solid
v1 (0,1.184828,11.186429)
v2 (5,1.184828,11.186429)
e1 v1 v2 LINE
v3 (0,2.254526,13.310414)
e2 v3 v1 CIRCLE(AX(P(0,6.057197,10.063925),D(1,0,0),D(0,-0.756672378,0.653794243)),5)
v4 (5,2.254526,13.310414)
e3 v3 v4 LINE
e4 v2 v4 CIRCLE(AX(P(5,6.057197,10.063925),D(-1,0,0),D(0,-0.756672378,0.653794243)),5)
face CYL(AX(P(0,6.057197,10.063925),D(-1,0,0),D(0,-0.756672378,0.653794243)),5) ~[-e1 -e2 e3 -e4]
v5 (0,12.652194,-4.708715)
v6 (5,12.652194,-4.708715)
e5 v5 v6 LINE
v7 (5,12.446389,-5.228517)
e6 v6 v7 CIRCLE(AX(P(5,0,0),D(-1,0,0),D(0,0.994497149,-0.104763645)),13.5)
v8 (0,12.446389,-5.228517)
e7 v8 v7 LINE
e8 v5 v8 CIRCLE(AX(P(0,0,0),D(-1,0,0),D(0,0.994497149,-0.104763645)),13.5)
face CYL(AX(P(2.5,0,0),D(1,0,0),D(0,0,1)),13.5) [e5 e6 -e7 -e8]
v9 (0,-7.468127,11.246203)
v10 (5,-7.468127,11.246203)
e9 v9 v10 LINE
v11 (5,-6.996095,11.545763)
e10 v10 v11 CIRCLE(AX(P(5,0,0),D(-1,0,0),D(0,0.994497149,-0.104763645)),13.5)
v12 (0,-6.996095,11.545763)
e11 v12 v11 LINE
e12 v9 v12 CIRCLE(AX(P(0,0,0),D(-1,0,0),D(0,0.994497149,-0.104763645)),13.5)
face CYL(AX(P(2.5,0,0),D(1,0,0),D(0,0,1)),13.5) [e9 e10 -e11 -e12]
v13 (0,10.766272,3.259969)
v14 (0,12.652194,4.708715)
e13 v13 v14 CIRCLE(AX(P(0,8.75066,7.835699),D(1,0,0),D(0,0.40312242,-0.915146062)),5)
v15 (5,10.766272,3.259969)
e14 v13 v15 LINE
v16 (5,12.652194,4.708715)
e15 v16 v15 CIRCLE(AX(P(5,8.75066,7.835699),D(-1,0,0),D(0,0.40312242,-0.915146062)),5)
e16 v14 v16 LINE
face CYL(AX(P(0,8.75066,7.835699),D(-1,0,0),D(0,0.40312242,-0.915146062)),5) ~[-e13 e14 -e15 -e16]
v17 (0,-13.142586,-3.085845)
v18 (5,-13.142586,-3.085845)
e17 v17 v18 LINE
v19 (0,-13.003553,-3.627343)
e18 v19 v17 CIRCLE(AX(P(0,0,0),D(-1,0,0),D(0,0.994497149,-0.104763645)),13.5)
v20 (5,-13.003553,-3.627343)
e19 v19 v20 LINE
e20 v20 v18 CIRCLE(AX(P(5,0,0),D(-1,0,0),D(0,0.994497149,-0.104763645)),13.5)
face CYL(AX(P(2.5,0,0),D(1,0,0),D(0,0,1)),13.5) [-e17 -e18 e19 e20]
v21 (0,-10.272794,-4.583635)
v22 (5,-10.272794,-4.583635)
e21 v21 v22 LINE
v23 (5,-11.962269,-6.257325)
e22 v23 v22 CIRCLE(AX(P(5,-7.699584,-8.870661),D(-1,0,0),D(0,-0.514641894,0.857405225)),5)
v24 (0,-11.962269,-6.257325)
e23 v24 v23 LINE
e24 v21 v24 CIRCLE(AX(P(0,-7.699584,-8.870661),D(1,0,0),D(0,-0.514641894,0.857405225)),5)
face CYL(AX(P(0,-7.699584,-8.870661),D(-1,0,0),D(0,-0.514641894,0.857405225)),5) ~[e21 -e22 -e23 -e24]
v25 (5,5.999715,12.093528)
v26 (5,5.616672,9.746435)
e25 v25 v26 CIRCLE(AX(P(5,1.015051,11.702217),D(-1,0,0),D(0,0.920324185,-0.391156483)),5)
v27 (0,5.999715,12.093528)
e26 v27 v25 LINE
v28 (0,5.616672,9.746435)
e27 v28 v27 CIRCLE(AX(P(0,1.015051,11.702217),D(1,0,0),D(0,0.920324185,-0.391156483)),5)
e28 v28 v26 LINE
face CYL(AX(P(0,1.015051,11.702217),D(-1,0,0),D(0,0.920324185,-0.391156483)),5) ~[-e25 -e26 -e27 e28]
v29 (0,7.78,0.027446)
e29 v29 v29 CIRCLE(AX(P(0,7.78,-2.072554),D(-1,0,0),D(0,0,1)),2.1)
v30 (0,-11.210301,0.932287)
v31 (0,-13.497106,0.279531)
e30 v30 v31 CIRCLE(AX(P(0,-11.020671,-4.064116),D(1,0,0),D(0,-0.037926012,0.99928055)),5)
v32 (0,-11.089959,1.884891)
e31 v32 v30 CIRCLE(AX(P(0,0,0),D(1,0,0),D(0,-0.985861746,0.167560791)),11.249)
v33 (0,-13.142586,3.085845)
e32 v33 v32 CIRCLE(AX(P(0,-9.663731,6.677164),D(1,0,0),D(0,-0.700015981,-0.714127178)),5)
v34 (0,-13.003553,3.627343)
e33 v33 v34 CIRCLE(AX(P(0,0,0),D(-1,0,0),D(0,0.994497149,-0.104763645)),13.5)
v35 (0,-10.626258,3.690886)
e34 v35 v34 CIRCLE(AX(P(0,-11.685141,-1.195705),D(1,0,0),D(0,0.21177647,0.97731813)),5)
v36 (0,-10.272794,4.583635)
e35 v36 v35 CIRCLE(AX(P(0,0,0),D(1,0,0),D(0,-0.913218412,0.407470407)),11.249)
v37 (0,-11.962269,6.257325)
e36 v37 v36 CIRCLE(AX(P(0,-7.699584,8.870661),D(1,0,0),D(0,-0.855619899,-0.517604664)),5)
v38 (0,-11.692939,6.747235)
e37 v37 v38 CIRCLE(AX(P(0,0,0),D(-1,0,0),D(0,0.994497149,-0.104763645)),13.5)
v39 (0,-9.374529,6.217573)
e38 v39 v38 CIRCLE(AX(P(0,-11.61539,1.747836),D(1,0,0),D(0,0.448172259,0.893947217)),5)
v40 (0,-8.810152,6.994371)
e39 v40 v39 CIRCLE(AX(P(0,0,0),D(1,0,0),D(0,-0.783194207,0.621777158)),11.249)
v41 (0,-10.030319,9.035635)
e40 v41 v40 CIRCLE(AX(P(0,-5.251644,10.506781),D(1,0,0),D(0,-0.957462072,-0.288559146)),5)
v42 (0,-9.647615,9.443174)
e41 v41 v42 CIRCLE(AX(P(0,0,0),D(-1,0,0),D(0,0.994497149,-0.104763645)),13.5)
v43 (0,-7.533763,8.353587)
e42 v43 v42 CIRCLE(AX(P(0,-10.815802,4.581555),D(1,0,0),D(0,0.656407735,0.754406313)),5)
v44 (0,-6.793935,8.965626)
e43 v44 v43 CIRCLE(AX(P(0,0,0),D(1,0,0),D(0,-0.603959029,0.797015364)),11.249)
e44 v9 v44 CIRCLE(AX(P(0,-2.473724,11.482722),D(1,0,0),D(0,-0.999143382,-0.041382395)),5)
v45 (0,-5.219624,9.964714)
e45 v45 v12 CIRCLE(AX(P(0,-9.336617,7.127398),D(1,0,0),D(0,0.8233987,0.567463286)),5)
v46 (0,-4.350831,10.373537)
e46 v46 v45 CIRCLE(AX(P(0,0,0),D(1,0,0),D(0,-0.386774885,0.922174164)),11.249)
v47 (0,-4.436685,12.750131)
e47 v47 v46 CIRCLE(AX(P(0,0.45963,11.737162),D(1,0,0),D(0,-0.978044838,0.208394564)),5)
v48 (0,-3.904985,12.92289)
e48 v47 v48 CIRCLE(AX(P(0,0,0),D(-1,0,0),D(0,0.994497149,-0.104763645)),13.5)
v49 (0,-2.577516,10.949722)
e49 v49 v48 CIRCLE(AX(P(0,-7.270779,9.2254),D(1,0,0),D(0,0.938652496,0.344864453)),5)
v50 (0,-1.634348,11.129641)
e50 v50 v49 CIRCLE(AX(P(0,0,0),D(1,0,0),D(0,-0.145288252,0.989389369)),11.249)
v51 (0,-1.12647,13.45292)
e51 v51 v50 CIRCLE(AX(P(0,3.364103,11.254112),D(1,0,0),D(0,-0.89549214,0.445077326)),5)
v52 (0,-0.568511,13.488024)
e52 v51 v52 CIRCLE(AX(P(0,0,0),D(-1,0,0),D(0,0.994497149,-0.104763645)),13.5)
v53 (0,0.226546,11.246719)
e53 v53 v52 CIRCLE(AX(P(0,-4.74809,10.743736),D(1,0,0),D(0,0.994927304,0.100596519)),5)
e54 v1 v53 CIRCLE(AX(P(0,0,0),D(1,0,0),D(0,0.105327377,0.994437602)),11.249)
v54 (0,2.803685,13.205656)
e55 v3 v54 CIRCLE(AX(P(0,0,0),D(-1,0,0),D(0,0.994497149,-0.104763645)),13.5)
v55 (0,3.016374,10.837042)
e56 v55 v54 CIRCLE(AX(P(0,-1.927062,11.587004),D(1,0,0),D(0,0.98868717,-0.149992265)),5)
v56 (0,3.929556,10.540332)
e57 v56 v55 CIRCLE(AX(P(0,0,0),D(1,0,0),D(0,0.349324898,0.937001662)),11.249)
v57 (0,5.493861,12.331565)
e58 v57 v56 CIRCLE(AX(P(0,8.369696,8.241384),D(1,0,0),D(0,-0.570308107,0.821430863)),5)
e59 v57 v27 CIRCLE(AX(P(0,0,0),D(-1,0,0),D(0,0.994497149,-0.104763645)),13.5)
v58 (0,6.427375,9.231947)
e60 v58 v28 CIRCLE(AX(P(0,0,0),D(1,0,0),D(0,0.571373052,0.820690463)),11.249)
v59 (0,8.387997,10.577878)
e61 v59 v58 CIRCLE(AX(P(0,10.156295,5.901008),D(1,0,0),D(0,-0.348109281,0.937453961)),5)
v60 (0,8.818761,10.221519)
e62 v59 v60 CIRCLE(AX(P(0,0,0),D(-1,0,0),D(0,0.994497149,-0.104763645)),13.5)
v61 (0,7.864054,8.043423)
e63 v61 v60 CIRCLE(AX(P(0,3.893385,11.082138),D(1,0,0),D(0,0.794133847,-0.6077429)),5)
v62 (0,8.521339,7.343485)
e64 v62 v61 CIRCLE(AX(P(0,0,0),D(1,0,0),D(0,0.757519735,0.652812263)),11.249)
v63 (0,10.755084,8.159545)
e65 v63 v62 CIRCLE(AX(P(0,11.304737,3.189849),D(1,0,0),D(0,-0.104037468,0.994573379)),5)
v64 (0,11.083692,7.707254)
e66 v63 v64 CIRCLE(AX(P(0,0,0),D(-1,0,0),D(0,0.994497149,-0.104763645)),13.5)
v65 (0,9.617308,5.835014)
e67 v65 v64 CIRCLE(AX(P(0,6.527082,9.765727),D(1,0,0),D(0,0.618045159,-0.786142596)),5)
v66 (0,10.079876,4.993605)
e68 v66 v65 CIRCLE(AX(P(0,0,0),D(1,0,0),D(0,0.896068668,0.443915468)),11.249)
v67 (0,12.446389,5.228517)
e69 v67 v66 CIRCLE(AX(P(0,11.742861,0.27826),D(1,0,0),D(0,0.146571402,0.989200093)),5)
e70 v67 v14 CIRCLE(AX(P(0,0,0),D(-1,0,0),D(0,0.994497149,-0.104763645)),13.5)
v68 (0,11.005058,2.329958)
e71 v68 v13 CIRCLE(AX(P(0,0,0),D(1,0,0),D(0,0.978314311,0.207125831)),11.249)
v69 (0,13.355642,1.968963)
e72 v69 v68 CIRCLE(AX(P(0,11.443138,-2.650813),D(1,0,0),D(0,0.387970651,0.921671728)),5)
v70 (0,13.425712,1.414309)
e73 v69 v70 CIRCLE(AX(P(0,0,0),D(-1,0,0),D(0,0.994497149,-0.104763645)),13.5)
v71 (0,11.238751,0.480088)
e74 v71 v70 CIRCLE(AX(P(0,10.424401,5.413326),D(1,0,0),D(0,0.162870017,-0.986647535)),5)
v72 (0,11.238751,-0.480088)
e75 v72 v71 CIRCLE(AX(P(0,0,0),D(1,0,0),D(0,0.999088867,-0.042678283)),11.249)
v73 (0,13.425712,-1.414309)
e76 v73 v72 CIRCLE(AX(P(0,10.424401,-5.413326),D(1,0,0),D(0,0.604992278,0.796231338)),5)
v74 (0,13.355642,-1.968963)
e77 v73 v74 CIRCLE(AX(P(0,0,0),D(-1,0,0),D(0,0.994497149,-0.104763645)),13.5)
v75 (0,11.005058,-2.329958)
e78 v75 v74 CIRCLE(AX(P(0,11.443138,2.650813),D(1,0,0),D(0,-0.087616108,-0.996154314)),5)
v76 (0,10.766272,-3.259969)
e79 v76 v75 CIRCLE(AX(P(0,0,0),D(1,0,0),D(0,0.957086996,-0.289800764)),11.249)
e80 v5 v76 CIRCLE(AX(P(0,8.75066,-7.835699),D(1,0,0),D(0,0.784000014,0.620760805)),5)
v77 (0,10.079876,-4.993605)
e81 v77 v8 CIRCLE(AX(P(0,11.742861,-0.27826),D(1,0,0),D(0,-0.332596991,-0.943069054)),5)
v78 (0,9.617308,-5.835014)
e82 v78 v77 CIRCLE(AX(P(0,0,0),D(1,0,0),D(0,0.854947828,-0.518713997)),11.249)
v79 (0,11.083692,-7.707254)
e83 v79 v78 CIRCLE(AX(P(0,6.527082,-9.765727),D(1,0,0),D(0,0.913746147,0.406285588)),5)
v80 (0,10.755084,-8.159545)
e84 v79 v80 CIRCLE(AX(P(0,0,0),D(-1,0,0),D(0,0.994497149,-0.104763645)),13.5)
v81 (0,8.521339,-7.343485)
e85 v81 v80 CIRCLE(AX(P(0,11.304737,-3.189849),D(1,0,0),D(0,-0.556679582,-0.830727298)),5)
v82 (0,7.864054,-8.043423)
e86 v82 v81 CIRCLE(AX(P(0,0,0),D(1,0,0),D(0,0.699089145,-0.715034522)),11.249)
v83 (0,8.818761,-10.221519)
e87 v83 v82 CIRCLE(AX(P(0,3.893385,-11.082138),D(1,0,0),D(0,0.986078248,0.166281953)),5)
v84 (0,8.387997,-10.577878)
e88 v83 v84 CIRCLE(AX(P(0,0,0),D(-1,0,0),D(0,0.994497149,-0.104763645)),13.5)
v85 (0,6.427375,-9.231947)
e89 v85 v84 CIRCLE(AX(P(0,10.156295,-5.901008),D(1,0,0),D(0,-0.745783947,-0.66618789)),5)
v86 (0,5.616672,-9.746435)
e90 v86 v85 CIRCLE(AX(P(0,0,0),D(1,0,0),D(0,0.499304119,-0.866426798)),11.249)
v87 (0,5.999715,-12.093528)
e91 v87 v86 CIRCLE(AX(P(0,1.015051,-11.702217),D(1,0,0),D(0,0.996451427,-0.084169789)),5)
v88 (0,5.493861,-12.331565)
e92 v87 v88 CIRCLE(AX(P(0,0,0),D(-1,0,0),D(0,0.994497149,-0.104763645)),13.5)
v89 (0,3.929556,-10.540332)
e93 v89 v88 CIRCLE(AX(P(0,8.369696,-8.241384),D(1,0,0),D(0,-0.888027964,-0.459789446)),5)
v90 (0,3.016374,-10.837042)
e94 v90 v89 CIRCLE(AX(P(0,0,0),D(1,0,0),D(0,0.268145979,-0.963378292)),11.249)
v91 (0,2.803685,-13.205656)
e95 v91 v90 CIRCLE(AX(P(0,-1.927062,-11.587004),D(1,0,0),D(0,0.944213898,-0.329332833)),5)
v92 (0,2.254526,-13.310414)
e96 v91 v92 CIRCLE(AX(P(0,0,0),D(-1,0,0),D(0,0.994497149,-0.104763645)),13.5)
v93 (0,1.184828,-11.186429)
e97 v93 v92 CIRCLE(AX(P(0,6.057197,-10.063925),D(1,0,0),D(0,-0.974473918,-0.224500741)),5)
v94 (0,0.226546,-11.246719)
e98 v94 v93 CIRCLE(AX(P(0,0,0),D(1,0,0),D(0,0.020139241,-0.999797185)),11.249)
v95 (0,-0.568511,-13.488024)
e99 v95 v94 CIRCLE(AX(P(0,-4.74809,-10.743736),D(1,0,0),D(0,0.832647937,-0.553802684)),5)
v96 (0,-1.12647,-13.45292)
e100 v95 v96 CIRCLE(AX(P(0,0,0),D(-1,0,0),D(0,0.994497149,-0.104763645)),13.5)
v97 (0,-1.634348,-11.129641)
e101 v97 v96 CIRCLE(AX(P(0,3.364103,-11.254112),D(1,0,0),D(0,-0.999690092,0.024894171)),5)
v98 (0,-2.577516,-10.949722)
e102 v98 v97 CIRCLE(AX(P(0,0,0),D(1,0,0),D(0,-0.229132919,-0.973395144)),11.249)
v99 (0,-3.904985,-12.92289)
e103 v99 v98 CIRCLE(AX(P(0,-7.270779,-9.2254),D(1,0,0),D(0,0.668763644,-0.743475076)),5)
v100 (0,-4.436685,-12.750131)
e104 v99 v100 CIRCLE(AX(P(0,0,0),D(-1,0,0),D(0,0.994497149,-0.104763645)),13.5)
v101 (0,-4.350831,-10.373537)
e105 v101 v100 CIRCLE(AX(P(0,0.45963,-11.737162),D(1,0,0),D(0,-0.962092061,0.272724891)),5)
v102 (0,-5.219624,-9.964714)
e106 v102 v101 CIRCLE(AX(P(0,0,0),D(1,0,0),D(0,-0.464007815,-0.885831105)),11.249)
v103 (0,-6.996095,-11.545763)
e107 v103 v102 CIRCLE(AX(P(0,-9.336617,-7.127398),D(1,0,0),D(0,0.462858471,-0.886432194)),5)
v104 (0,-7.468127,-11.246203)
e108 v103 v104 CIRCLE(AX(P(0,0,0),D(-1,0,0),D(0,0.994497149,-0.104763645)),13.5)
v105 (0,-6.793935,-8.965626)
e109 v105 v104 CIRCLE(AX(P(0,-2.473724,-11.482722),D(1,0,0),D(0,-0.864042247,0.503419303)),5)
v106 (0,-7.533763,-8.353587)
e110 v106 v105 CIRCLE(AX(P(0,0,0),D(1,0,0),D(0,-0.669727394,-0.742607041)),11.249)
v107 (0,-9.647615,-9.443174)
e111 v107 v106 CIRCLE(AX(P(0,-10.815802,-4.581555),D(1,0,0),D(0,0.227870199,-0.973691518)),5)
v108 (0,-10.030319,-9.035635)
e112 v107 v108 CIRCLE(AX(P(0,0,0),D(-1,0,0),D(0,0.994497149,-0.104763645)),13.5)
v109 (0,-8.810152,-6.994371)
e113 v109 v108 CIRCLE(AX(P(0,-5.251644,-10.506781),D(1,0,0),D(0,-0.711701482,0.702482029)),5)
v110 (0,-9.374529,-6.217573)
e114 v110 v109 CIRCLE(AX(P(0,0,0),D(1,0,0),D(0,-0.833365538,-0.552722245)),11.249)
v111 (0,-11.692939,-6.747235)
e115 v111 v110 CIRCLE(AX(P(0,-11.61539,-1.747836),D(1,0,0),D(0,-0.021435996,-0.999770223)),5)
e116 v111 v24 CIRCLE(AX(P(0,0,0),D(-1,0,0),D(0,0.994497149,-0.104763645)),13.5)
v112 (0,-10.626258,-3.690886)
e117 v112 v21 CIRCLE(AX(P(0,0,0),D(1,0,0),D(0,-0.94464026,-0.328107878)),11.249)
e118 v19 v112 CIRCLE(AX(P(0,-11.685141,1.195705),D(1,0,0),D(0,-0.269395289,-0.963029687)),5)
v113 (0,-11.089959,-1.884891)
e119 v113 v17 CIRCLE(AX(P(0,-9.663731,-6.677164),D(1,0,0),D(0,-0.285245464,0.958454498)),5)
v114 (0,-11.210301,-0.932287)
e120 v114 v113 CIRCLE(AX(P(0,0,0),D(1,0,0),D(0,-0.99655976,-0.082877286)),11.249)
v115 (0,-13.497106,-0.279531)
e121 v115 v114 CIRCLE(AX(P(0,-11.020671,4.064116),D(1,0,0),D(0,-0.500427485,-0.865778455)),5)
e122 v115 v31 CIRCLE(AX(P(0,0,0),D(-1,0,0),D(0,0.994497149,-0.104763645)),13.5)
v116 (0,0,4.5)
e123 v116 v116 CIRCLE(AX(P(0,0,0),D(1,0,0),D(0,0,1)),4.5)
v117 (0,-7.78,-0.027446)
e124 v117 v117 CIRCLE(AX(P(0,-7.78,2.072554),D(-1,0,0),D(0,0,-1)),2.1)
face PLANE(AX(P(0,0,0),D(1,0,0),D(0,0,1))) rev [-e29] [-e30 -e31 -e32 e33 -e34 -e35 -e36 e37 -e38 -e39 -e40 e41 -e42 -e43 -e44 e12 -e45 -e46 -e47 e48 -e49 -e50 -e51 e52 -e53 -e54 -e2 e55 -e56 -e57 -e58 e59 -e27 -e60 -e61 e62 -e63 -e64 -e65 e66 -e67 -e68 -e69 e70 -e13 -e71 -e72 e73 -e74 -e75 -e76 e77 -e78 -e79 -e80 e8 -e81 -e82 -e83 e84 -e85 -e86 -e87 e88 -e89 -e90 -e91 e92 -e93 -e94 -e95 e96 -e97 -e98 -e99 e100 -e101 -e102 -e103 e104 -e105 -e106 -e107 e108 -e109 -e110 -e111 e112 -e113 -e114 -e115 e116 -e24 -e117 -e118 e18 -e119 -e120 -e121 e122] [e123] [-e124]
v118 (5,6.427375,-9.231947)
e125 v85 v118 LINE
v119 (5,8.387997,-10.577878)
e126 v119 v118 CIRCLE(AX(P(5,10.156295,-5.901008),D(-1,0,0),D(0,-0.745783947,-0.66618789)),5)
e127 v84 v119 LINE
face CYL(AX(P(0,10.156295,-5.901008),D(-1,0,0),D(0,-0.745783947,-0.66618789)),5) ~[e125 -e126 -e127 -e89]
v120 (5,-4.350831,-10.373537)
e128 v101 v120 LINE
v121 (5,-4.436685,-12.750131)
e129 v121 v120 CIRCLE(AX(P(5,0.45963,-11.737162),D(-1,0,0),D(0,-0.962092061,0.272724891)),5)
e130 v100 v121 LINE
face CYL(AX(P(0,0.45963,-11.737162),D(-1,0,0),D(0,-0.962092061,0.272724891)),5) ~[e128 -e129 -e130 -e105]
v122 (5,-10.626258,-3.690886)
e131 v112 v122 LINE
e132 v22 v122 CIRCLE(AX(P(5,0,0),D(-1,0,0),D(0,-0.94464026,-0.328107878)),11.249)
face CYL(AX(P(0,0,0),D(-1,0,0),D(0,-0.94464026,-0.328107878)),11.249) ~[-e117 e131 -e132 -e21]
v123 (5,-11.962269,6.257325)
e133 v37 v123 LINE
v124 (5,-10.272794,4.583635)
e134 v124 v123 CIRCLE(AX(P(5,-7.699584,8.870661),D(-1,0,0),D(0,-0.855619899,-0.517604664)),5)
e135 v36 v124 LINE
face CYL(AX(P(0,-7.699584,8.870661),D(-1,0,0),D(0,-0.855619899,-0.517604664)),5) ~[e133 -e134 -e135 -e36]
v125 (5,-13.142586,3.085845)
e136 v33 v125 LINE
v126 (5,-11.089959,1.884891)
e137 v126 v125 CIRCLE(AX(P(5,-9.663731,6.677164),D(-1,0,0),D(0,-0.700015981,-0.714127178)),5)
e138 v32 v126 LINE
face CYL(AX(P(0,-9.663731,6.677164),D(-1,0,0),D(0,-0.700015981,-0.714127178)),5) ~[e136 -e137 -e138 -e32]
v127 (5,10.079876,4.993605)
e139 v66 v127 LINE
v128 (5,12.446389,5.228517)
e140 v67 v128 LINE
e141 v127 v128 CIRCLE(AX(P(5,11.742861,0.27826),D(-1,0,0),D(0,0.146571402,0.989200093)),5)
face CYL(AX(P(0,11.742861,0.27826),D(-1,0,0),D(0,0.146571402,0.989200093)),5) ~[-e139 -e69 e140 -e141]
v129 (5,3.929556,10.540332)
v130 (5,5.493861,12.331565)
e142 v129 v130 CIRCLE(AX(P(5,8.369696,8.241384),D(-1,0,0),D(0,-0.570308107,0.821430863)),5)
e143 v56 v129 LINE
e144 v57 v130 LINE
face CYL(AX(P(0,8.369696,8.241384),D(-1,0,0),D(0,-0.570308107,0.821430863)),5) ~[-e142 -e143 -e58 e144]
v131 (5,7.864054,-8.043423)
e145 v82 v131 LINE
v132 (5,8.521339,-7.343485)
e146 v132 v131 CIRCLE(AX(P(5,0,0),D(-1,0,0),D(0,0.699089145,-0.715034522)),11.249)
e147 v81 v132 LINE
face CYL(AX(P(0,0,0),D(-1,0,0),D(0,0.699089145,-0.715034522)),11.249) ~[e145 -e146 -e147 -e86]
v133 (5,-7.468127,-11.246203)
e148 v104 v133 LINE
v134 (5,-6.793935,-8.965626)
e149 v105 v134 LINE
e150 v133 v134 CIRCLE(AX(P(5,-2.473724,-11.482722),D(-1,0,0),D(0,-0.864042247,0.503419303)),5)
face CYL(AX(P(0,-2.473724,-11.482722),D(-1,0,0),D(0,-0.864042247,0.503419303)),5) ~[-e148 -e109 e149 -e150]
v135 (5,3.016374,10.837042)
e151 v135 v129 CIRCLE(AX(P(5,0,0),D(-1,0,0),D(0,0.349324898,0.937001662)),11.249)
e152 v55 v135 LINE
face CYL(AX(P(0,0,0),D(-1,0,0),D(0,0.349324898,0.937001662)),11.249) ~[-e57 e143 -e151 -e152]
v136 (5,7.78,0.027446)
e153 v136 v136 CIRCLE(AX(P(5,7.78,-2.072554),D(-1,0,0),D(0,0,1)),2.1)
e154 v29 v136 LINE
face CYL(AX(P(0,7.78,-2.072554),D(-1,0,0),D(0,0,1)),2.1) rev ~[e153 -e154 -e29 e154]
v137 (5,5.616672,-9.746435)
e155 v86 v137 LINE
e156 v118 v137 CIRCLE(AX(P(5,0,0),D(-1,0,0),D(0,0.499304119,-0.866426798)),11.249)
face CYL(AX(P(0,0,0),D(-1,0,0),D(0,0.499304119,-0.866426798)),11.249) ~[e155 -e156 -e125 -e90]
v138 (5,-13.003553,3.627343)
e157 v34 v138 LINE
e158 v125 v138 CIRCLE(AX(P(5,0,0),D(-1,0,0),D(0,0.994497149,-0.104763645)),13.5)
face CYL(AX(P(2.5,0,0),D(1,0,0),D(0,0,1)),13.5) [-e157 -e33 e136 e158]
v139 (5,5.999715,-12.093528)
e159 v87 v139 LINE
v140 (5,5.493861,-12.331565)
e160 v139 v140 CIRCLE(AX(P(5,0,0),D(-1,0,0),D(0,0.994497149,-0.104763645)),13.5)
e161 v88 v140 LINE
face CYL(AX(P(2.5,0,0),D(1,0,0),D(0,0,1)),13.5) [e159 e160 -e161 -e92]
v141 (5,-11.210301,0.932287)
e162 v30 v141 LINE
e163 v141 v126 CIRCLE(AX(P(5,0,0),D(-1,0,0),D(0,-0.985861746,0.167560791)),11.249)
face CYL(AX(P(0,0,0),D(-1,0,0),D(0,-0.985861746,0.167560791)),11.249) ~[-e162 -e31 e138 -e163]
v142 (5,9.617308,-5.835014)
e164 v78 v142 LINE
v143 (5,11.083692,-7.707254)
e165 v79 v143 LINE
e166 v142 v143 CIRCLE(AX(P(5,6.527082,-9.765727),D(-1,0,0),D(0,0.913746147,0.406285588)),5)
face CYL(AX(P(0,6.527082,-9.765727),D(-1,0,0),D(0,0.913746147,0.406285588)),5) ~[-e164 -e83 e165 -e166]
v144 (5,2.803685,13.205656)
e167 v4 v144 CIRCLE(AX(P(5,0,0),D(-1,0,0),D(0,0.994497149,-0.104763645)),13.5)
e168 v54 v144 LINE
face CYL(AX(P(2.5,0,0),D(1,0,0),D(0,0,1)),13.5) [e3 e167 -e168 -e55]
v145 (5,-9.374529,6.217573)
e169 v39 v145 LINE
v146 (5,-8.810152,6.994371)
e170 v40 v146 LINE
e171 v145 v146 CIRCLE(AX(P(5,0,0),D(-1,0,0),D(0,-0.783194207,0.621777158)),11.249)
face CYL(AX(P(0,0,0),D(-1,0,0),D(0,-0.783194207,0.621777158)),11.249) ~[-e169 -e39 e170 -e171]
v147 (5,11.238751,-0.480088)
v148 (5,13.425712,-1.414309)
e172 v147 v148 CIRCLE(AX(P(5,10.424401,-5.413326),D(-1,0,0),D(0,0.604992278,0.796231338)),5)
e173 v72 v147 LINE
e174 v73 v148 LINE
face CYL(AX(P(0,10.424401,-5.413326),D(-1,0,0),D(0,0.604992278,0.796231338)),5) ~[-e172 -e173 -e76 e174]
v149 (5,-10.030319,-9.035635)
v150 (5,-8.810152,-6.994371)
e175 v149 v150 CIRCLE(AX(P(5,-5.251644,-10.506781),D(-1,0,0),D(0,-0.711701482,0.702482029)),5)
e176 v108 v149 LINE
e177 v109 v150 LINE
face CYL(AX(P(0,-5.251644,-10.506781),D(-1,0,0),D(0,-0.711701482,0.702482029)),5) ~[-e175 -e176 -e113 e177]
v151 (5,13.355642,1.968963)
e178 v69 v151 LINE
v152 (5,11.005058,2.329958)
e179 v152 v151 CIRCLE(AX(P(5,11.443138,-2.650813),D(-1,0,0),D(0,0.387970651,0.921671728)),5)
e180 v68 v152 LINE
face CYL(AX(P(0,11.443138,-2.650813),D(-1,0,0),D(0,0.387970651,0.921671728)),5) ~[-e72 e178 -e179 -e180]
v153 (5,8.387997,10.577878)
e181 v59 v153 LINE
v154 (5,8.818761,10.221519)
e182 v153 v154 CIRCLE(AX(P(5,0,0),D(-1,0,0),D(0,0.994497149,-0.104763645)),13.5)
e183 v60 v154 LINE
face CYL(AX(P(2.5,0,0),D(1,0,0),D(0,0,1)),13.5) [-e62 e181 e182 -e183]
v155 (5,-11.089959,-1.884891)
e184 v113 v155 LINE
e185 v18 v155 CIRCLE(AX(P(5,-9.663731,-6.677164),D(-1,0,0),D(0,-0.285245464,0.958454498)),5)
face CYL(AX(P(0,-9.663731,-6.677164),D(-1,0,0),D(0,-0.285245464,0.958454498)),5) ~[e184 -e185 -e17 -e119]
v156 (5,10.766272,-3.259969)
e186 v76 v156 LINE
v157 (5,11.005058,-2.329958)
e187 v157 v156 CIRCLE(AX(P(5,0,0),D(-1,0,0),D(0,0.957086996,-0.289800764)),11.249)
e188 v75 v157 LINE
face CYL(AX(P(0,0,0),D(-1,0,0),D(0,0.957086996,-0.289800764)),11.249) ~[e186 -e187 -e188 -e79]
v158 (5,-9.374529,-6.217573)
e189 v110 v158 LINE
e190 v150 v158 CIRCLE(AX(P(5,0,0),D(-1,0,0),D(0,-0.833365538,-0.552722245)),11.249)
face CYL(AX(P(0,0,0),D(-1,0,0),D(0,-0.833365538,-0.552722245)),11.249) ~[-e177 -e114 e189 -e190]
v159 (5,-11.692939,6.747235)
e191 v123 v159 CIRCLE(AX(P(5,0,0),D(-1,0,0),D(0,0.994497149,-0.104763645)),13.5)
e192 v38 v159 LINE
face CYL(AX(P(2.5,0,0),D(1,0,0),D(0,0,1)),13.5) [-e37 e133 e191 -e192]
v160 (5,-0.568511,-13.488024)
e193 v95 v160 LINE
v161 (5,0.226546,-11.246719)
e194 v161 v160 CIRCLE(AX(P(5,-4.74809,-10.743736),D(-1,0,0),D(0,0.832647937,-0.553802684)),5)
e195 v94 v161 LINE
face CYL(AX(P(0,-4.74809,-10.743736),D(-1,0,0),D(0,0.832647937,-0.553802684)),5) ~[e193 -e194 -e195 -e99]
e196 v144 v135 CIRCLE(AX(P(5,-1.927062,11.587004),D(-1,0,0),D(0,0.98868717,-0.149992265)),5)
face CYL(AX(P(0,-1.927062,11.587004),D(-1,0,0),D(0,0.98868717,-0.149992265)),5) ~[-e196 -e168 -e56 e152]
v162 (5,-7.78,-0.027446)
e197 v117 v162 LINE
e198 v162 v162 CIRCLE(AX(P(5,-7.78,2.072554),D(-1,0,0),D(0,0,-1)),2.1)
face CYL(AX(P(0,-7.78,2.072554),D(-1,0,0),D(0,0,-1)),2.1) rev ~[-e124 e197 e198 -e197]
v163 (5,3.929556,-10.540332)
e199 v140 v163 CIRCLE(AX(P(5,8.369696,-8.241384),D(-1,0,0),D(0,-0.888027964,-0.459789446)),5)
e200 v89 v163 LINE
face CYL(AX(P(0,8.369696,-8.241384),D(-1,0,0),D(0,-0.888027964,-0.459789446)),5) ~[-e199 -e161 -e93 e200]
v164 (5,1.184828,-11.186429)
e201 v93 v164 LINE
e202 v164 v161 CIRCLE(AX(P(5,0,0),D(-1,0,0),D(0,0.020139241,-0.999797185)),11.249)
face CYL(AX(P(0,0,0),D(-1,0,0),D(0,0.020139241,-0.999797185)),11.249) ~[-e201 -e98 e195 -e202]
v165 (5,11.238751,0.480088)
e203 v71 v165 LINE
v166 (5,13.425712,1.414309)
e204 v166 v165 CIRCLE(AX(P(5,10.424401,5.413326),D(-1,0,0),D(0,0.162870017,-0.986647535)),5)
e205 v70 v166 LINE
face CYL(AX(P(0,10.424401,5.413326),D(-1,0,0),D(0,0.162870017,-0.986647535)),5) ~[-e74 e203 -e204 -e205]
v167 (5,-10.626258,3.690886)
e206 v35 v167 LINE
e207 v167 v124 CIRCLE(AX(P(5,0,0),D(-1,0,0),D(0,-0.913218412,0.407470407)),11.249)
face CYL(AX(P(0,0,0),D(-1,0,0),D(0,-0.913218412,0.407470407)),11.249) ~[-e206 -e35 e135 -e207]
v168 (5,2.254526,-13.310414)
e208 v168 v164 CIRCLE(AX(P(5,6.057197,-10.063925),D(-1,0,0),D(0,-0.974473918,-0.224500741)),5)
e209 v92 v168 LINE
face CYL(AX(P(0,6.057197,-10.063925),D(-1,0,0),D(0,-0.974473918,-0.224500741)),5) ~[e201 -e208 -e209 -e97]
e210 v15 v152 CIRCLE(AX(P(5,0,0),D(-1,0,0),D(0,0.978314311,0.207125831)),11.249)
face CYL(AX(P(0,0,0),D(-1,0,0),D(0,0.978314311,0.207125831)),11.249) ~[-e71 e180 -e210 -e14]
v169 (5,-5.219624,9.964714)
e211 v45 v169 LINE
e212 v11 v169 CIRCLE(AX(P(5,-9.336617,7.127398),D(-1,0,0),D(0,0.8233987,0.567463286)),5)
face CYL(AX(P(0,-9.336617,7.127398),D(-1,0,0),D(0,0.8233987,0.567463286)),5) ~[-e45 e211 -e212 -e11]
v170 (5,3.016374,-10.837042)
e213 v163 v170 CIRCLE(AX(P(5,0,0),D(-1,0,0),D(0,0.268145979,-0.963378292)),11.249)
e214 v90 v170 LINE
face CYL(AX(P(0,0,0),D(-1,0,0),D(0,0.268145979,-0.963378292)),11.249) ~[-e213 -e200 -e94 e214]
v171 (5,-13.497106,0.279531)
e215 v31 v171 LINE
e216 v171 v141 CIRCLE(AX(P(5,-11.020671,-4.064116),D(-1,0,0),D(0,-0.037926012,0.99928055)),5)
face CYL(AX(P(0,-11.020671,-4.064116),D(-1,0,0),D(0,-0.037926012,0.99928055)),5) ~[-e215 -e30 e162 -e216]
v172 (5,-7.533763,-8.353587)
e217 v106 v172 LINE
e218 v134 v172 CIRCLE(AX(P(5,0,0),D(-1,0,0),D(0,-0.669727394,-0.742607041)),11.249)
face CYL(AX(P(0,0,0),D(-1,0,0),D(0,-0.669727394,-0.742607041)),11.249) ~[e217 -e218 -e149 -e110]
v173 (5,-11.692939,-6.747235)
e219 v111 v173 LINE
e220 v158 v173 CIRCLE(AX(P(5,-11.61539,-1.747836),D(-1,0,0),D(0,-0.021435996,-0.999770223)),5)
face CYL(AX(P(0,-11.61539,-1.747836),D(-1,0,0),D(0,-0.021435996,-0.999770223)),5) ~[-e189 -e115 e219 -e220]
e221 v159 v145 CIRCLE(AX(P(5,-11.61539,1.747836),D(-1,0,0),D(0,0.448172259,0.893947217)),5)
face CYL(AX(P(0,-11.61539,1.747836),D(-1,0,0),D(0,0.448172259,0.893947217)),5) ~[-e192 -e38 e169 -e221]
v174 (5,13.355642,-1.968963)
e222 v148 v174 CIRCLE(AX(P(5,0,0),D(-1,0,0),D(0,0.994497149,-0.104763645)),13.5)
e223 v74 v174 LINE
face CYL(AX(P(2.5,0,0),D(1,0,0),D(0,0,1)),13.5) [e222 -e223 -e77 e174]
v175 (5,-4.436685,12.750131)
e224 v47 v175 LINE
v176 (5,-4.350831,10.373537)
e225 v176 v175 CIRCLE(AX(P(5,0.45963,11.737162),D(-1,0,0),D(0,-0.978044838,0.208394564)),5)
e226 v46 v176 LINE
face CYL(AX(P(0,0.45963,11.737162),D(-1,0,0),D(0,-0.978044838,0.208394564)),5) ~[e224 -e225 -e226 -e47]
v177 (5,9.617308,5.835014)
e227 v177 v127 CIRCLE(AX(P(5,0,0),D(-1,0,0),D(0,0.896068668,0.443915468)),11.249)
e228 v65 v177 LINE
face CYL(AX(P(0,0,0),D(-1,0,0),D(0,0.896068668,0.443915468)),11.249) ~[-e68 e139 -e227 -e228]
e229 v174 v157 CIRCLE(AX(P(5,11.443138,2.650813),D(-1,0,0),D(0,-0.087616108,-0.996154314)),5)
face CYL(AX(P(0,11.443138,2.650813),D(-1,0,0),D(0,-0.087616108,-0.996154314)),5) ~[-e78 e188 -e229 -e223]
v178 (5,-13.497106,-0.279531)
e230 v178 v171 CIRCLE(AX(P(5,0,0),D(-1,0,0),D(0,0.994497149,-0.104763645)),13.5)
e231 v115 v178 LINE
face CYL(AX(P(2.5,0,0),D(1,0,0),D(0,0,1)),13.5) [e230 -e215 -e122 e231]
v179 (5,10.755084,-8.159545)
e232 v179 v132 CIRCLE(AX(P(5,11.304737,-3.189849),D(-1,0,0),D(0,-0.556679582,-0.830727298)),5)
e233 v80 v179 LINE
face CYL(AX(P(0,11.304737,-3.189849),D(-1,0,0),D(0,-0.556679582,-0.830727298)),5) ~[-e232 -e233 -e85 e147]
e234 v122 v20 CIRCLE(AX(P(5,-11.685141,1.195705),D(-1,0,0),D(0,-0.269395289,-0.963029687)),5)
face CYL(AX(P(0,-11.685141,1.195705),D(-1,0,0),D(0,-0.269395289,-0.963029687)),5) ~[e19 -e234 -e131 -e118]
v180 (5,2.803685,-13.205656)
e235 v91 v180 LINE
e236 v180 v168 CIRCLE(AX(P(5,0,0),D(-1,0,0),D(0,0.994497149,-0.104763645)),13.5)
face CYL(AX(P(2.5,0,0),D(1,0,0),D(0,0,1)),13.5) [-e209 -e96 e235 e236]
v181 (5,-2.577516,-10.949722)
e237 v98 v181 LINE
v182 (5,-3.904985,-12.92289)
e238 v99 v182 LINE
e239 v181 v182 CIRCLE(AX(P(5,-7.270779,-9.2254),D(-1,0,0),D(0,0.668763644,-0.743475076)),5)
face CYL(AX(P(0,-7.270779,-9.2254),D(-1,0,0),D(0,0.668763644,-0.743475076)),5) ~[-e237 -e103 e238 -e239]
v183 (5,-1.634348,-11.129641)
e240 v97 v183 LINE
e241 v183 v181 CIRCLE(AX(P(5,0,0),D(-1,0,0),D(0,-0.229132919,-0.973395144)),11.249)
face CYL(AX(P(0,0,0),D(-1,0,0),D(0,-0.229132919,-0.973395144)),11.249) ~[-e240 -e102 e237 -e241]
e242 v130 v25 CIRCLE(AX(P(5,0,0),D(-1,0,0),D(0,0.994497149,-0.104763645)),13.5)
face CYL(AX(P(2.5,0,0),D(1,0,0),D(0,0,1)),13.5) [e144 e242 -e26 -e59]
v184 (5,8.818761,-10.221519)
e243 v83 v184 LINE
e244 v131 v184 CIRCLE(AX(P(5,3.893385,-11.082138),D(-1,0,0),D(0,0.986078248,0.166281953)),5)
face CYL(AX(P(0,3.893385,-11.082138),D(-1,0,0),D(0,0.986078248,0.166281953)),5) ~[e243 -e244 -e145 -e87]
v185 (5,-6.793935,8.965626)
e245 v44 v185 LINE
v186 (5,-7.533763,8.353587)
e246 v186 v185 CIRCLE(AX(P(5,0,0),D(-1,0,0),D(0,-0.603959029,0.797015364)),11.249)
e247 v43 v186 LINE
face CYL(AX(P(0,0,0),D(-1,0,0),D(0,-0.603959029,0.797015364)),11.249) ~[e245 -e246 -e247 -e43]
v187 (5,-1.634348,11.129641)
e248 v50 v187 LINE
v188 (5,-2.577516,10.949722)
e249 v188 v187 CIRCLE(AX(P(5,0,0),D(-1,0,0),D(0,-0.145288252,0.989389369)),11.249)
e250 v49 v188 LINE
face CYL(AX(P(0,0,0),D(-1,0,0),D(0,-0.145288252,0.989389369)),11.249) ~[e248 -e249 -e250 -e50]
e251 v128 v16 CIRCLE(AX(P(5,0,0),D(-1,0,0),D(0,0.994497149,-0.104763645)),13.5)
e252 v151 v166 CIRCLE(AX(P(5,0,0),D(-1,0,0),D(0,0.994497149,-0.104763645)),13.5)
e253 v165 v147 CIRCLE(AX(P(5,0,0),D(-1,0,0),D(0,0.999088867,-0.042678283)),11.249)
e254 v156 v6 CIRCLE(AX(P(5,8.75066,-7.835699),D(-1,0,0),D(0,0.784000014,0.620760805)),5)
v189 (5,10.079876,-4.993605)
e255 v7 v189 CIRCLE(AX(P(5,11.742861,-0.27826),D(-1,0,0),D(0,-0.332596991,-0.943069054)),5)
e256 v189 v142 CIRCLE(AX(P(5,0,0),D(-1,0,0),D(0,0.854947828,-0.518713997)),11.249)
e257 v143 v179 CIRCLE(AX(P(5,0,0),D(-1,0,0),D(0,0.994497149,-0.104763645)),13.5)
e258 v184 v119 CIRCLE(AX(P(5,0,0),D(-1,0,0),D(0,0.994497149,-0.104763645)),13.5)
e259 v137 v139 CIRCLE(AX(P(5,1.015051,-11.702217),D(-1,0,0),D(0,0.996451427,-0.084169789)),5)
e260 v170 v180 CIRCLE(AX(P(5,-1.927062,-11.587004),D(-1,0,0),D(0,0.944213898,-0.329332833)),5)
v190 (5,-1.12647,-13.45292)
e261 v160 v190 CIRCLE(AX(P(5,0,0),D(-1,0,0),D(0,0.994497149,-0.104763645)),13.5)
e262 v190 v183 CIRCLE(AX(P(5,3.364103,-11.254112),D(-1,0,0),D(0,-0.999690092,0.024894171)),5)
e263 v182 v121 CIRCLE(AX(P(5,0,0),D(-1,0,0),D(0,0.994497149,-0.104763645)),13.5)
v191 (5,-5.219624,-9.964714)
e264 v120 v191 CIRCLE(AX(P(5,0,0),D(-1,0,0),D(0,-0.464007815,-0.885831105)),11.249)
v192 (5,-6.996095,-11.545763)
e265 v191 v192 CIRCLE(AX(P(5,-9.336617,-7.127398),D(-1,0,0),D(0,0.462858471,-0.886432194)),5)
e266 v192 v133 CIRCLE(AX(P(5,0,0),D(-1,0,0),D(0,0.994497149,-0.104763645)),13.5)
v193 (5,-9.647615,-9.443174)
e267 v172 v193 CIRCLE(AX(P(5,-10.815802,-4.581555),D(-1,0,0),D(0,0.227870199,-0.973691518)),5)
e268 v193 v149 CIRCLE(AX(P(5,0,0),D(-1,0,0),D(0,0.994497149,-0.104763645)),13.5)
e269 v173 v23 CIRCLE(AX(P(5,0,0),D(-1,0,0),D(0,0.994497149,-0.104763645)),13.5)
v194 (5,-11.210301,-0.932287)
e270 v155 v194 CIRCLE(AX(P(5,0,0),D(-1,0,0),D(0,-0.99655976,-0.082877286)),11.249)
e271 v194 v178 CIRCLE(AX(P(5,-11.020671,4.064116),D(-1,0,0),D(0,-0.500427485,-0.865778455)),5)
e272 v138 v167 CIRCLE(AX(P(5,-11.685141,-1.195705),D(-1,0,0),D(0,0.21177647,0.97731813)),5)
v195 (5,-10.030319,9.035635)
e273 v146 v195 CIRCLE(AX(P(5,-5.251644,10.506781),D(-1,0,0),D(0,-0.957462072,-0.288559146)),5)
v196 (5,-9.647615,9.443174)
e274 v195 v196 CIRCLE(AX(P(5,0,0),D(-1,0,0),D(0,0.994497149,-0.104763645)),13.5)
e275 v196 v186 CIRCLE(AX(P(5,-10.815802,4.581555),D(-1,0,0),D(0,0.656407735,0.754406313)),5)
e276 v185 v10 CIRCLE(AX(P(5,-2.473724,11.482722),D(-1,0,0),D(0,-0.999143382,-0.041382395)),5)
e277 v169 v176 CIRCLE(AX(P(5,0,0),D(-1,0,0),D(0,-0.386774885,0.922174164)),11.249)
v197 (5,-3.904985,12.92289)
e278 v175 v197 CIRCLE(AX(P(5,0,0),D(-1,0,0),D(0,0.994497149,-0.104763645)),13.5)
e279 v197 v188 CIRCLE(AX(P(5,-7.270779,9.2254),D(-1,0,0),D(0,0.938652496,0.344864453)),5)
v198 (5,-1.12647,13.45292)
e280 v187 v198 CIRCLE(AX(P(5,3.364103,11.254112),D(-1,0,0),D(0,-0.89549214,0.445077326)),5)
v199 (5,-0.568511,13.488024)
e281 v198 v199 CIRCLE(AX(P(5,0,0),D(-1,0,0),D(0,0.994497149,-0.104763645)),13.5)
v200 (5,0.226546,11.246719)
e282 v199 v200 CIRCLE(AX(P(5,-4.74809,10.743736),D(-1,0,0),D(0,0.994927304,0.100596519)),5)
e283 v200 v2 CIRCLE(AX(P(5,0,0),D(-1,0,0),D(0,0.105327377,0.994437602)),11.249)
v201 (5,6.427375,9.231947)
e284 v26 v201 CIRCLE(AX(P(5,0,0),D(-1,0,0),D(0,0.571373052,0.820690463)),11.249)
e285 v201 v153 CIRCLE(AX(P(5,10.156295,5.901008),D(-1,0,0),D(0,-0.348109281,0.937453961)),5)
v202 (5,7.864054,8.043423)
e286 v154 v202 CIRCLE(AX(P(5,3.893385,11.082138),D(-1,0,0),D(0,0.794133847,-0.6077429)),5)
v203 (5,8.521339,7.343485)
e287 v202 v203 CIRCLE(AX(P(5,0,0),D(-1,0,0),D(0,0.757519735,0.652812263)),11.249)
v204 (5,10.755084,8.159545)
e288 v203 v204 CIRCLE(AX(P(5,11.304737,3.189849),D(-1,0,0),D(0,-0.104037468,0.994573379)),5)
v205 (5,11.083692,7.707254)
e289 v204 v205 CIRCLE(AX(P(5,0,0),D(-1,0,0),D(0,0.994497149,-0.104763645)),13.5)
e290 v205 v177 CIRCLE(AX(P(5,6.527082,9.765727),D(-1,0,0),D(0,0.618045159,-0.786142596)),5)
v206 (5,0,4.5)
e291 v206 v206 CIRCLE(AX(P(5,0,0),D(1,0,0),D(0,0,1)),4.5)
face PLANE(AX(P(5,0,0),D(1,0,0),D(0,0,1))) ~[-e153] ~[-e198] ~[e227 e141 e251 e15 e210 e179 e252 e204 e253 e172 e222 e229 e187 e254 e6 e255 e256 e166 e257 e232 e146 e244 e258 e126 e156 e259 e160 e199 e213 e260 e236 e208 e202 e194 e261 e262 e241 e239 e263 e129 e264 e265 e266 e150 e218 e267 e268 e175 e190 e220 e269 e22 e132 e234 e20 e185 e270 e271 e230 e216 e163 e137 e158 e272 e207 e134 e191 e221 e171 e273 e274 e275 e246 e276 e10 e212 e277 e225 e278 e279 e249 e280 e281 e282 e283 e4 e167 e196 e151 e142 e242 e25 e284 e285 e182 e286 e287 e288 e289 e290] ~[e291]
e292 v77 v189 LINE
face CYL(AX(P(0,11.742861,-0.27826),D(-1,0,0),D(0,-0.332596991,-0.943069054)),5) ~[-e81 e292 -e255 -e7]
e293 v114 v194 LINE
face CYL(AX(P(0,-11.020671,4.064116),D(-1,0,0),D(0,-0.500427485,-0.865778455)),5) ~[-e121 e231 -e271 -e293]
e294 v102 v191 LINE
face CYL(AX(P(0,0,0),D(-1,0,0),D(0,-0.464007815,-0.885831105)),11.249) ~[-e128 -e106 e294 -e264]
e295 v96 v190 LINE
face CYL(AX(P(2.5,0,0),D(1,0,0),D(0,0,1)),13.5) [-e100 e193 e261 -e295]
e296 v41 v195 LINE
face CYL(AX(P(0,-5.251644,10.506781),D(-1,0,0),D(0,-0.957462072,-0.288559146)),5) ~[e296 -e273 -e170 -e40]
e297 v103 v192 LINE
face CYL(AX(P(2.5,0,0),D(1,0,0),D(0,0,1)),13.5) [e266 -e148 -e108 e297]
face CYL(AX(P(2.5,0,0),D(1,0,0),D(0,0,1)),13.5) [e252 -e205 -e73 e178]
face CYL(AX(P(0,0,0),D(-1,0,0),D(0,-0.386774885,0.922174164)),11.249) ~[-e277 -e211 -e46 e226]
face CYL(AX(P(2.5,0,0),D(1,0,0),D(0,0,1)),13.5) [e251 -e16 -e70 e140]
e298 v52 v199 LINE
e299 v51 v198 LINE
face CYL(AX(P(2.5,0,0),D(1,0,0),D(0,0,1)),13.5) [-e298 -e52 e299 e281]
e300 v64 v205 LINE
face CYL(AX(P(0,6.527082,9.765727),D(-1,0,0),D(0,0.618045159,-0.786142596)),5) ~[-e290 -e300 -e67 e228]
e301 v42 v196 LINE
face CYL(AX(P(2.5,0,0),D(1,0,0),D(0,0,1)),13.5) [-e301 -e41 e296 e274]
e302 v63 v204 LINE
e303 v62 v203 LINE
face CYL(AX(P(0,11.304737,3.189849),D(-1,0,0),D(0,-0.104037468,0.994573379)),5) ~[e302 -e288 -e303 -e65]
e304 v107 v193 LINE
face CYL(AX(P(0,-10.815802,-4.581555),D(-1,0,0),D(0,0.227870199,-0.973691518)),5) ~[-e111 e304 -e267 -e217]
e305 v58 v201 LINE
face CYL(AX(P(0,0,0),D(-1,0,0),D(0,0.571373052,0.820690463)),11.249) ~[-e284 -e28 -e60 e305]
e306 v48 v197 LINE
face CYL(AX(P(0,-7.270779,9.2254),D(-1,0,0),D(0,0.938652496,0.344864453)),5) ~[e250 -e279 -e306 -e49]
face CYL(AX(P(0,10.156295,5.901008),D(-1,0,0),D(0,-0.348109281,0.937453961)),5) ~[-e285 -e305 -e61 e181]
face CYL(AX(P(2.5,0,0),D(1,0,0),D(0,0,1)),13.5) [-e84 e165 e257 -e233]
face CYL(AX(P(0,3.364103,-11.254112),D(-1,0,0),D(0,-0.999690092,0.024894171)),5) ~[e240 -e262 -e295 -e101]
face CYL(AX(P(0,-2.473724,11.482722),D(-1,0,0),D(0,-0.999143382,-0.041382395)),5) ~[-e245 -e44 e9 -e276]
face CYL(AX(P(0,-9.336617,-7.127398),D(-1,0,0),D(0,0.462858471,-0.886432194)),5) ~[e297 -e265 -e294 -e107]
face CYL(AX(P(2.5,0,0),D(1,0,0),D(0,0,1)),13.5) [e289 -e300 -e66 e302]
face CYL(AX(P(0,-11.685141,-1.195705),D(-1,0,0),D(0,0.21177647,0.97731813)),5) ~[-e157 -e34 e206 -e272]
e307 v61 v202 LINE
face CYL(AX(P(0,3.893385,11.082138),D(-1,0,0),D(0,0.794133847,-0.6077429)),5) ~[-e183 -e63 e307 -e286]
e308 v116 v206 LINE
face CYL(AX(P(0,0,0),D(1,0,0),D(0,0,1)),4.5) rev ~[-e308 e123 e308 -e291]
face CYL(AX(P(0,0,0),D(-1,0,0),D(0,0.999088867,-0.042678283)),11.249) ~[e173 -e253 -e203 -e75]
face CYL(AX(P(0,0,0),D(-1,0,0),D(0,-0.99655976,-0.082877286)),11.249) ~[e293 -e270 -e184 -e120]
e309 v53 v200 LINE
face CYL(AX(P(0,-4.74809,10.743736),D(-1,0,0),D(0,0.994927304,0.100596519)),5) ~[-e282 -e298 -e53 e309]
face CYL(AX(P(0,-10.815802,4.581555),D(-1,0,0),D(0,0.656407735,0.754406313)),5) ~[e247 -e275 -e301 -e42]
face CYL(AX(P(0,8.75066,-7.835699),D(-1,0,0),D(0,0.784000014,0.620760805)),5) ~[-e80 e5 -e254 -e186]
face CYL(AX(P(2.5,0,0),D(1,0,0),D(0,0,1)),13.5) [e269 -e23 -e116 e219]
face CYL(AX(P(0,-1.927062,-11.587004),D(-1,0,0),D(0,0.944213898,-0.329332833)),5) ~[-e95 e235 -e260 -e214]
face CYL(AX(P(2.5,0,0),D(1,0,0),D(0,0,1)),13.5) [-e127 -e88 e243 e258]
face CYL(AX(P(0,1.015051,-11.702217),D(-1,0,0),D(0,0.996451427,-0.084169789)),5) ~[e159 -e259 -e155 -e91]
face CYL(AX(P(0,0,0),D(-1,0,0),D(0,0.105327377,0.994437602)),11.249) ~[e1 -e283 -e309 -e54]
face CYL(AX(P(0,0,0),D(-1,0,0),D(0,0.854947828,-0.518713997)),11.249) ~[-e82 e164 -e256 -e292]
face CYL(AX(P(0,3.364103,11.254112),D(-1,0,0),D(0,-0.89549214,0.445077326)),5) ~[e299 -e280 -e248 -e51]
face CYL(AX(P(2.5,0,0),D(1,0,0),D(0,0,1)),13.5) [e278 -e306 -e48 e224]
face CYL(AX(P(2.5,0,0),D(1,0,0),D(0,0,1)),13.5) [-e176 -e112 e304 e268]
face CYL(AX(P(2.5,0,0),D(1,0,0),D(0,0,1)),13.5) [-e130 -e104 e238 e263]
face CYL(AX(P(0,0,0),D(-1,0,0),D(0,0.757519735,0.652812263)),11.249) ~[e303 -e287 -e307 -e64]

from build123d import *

# Parameters (mm, degrees)
BASPROSKE_W                  = 5
BASPROSKE_H                  = 13.5
TOOTHCUT_DEPTH               = 20.735754356
TEETHCUTS_COUNT              = 25
TEETHCUTS_ANGLE              = 345.6
BORSKE_R                     = 4.5
BORE_DEPTH                   = 50.0000508
ESQUISSE3_R                  = 2.1
ENL_V_MAT_EXTRU_1_DEPTH      = 20.727564352
R_P_TITION_CIRCULAIRE1_COUNT = 2


with BuildPart() as part:
    # BasProSke → Base-Revolve (revolve)
    with BuildSketch(Plane(origin=(0, 0, 0), x_dir=(1, 0, 0), z_dir=(0, 1, 0)), mode=Mode.PRIVATE) as base_revolve_sk:
        with Locations((2.5, 6.75)):
            Rectangle(BASPROSKE_W, BASPROSKE_H)
    revolve(base_revolve_sk.sketch.rotate(Axis((-10, 0, 0), (1, 0, 0)), 180), axis=Axis((-10, 0, 0), (1, 0, 0)))

    # TooCutSke → ToothCut (cut, through all)
    with BuildSketch(Plane(origin=(0, 0, 0), x_dir=(0, 0, -1), z_dir=(1, 0, 0))):
        with BuildLine():
            ThreePointArc((0.480087995, 11.238750665), (0, 11.249), (-0.480087995, 11.238750665))
            ThreePointArc((-0.480087995, 11.238750665), (-0.821124963, 12.40220054), (-1.432168974, 13.449361962))
            ThreePointArc((-1.432168974, 13.449361962), (0, 13.5254), (1.432168974, 13.449361962))
            ThreePointArc((1.432168974, 13.449361962), (0.821124963, 12.40220054), (0.480087995, 11.238750665))
        make_face()
    toothcut = extrude(amount=TOOTHCUT_DEPTH, mode=Mode.SUBTRACT)

    # TeethCuts: ToothCut ×25 about axis
    teethcuts_axis = Axis((-10, 0, 0), (1, 0, 0))
    for i in range(1, TEETHCUTS_COUNT):
        add(toothcut.rotate(teethcuts_axis, i * TEETHCUTS_ANGLE / (TEETHCUTS_COUNT - 1)), mode=Mode.SUBTRACT)

    # BorSke → Bore (cut, symmetric)
    with BuildSketch(Plane(origin=(0, 0, 0), x_dir=(0, 0, -1), z_dir=(1, 0, 0))):
        with Locations(Location((0, 0, 0), (0, 0, 180))):
            Circle(BORSKE_R)
    extrude(amount=BORE_DEPTH, both=True, mode=Mode.SUBTRACT)

    # Esquisse3 → Enlèv. mat.-Extru.1 (cut, through all)
    with BuildSketch(Plane.ZY):
        with Locations((-2.072553705, 7.78)):
            Circle(ESQUISSE3_R)
    enl_v_mat_extru_1 = extrude(amount=-ENL_V_MAT_EXTRU_1_DEPTH, mode=Mode.SUBTRACT)

    # Répétition circulaire1: Enlèv. mat.-Extru.1 ×2 about axis
    r_p_tition_circulaire1_axis = Axis((0, 0, 0), (1, 0, 0))
    for i in range(1, R_P_TITION_CIRCULAIRE1_COUNT):
        add(enl_v_mat_extru_1.rotate(r_p_tition_circulaire1_axis, i * 360 / R_P_TITION_CIRCULAIRE1_COUNT), mode=Mode.SUBTRACT)


solid = part.part
